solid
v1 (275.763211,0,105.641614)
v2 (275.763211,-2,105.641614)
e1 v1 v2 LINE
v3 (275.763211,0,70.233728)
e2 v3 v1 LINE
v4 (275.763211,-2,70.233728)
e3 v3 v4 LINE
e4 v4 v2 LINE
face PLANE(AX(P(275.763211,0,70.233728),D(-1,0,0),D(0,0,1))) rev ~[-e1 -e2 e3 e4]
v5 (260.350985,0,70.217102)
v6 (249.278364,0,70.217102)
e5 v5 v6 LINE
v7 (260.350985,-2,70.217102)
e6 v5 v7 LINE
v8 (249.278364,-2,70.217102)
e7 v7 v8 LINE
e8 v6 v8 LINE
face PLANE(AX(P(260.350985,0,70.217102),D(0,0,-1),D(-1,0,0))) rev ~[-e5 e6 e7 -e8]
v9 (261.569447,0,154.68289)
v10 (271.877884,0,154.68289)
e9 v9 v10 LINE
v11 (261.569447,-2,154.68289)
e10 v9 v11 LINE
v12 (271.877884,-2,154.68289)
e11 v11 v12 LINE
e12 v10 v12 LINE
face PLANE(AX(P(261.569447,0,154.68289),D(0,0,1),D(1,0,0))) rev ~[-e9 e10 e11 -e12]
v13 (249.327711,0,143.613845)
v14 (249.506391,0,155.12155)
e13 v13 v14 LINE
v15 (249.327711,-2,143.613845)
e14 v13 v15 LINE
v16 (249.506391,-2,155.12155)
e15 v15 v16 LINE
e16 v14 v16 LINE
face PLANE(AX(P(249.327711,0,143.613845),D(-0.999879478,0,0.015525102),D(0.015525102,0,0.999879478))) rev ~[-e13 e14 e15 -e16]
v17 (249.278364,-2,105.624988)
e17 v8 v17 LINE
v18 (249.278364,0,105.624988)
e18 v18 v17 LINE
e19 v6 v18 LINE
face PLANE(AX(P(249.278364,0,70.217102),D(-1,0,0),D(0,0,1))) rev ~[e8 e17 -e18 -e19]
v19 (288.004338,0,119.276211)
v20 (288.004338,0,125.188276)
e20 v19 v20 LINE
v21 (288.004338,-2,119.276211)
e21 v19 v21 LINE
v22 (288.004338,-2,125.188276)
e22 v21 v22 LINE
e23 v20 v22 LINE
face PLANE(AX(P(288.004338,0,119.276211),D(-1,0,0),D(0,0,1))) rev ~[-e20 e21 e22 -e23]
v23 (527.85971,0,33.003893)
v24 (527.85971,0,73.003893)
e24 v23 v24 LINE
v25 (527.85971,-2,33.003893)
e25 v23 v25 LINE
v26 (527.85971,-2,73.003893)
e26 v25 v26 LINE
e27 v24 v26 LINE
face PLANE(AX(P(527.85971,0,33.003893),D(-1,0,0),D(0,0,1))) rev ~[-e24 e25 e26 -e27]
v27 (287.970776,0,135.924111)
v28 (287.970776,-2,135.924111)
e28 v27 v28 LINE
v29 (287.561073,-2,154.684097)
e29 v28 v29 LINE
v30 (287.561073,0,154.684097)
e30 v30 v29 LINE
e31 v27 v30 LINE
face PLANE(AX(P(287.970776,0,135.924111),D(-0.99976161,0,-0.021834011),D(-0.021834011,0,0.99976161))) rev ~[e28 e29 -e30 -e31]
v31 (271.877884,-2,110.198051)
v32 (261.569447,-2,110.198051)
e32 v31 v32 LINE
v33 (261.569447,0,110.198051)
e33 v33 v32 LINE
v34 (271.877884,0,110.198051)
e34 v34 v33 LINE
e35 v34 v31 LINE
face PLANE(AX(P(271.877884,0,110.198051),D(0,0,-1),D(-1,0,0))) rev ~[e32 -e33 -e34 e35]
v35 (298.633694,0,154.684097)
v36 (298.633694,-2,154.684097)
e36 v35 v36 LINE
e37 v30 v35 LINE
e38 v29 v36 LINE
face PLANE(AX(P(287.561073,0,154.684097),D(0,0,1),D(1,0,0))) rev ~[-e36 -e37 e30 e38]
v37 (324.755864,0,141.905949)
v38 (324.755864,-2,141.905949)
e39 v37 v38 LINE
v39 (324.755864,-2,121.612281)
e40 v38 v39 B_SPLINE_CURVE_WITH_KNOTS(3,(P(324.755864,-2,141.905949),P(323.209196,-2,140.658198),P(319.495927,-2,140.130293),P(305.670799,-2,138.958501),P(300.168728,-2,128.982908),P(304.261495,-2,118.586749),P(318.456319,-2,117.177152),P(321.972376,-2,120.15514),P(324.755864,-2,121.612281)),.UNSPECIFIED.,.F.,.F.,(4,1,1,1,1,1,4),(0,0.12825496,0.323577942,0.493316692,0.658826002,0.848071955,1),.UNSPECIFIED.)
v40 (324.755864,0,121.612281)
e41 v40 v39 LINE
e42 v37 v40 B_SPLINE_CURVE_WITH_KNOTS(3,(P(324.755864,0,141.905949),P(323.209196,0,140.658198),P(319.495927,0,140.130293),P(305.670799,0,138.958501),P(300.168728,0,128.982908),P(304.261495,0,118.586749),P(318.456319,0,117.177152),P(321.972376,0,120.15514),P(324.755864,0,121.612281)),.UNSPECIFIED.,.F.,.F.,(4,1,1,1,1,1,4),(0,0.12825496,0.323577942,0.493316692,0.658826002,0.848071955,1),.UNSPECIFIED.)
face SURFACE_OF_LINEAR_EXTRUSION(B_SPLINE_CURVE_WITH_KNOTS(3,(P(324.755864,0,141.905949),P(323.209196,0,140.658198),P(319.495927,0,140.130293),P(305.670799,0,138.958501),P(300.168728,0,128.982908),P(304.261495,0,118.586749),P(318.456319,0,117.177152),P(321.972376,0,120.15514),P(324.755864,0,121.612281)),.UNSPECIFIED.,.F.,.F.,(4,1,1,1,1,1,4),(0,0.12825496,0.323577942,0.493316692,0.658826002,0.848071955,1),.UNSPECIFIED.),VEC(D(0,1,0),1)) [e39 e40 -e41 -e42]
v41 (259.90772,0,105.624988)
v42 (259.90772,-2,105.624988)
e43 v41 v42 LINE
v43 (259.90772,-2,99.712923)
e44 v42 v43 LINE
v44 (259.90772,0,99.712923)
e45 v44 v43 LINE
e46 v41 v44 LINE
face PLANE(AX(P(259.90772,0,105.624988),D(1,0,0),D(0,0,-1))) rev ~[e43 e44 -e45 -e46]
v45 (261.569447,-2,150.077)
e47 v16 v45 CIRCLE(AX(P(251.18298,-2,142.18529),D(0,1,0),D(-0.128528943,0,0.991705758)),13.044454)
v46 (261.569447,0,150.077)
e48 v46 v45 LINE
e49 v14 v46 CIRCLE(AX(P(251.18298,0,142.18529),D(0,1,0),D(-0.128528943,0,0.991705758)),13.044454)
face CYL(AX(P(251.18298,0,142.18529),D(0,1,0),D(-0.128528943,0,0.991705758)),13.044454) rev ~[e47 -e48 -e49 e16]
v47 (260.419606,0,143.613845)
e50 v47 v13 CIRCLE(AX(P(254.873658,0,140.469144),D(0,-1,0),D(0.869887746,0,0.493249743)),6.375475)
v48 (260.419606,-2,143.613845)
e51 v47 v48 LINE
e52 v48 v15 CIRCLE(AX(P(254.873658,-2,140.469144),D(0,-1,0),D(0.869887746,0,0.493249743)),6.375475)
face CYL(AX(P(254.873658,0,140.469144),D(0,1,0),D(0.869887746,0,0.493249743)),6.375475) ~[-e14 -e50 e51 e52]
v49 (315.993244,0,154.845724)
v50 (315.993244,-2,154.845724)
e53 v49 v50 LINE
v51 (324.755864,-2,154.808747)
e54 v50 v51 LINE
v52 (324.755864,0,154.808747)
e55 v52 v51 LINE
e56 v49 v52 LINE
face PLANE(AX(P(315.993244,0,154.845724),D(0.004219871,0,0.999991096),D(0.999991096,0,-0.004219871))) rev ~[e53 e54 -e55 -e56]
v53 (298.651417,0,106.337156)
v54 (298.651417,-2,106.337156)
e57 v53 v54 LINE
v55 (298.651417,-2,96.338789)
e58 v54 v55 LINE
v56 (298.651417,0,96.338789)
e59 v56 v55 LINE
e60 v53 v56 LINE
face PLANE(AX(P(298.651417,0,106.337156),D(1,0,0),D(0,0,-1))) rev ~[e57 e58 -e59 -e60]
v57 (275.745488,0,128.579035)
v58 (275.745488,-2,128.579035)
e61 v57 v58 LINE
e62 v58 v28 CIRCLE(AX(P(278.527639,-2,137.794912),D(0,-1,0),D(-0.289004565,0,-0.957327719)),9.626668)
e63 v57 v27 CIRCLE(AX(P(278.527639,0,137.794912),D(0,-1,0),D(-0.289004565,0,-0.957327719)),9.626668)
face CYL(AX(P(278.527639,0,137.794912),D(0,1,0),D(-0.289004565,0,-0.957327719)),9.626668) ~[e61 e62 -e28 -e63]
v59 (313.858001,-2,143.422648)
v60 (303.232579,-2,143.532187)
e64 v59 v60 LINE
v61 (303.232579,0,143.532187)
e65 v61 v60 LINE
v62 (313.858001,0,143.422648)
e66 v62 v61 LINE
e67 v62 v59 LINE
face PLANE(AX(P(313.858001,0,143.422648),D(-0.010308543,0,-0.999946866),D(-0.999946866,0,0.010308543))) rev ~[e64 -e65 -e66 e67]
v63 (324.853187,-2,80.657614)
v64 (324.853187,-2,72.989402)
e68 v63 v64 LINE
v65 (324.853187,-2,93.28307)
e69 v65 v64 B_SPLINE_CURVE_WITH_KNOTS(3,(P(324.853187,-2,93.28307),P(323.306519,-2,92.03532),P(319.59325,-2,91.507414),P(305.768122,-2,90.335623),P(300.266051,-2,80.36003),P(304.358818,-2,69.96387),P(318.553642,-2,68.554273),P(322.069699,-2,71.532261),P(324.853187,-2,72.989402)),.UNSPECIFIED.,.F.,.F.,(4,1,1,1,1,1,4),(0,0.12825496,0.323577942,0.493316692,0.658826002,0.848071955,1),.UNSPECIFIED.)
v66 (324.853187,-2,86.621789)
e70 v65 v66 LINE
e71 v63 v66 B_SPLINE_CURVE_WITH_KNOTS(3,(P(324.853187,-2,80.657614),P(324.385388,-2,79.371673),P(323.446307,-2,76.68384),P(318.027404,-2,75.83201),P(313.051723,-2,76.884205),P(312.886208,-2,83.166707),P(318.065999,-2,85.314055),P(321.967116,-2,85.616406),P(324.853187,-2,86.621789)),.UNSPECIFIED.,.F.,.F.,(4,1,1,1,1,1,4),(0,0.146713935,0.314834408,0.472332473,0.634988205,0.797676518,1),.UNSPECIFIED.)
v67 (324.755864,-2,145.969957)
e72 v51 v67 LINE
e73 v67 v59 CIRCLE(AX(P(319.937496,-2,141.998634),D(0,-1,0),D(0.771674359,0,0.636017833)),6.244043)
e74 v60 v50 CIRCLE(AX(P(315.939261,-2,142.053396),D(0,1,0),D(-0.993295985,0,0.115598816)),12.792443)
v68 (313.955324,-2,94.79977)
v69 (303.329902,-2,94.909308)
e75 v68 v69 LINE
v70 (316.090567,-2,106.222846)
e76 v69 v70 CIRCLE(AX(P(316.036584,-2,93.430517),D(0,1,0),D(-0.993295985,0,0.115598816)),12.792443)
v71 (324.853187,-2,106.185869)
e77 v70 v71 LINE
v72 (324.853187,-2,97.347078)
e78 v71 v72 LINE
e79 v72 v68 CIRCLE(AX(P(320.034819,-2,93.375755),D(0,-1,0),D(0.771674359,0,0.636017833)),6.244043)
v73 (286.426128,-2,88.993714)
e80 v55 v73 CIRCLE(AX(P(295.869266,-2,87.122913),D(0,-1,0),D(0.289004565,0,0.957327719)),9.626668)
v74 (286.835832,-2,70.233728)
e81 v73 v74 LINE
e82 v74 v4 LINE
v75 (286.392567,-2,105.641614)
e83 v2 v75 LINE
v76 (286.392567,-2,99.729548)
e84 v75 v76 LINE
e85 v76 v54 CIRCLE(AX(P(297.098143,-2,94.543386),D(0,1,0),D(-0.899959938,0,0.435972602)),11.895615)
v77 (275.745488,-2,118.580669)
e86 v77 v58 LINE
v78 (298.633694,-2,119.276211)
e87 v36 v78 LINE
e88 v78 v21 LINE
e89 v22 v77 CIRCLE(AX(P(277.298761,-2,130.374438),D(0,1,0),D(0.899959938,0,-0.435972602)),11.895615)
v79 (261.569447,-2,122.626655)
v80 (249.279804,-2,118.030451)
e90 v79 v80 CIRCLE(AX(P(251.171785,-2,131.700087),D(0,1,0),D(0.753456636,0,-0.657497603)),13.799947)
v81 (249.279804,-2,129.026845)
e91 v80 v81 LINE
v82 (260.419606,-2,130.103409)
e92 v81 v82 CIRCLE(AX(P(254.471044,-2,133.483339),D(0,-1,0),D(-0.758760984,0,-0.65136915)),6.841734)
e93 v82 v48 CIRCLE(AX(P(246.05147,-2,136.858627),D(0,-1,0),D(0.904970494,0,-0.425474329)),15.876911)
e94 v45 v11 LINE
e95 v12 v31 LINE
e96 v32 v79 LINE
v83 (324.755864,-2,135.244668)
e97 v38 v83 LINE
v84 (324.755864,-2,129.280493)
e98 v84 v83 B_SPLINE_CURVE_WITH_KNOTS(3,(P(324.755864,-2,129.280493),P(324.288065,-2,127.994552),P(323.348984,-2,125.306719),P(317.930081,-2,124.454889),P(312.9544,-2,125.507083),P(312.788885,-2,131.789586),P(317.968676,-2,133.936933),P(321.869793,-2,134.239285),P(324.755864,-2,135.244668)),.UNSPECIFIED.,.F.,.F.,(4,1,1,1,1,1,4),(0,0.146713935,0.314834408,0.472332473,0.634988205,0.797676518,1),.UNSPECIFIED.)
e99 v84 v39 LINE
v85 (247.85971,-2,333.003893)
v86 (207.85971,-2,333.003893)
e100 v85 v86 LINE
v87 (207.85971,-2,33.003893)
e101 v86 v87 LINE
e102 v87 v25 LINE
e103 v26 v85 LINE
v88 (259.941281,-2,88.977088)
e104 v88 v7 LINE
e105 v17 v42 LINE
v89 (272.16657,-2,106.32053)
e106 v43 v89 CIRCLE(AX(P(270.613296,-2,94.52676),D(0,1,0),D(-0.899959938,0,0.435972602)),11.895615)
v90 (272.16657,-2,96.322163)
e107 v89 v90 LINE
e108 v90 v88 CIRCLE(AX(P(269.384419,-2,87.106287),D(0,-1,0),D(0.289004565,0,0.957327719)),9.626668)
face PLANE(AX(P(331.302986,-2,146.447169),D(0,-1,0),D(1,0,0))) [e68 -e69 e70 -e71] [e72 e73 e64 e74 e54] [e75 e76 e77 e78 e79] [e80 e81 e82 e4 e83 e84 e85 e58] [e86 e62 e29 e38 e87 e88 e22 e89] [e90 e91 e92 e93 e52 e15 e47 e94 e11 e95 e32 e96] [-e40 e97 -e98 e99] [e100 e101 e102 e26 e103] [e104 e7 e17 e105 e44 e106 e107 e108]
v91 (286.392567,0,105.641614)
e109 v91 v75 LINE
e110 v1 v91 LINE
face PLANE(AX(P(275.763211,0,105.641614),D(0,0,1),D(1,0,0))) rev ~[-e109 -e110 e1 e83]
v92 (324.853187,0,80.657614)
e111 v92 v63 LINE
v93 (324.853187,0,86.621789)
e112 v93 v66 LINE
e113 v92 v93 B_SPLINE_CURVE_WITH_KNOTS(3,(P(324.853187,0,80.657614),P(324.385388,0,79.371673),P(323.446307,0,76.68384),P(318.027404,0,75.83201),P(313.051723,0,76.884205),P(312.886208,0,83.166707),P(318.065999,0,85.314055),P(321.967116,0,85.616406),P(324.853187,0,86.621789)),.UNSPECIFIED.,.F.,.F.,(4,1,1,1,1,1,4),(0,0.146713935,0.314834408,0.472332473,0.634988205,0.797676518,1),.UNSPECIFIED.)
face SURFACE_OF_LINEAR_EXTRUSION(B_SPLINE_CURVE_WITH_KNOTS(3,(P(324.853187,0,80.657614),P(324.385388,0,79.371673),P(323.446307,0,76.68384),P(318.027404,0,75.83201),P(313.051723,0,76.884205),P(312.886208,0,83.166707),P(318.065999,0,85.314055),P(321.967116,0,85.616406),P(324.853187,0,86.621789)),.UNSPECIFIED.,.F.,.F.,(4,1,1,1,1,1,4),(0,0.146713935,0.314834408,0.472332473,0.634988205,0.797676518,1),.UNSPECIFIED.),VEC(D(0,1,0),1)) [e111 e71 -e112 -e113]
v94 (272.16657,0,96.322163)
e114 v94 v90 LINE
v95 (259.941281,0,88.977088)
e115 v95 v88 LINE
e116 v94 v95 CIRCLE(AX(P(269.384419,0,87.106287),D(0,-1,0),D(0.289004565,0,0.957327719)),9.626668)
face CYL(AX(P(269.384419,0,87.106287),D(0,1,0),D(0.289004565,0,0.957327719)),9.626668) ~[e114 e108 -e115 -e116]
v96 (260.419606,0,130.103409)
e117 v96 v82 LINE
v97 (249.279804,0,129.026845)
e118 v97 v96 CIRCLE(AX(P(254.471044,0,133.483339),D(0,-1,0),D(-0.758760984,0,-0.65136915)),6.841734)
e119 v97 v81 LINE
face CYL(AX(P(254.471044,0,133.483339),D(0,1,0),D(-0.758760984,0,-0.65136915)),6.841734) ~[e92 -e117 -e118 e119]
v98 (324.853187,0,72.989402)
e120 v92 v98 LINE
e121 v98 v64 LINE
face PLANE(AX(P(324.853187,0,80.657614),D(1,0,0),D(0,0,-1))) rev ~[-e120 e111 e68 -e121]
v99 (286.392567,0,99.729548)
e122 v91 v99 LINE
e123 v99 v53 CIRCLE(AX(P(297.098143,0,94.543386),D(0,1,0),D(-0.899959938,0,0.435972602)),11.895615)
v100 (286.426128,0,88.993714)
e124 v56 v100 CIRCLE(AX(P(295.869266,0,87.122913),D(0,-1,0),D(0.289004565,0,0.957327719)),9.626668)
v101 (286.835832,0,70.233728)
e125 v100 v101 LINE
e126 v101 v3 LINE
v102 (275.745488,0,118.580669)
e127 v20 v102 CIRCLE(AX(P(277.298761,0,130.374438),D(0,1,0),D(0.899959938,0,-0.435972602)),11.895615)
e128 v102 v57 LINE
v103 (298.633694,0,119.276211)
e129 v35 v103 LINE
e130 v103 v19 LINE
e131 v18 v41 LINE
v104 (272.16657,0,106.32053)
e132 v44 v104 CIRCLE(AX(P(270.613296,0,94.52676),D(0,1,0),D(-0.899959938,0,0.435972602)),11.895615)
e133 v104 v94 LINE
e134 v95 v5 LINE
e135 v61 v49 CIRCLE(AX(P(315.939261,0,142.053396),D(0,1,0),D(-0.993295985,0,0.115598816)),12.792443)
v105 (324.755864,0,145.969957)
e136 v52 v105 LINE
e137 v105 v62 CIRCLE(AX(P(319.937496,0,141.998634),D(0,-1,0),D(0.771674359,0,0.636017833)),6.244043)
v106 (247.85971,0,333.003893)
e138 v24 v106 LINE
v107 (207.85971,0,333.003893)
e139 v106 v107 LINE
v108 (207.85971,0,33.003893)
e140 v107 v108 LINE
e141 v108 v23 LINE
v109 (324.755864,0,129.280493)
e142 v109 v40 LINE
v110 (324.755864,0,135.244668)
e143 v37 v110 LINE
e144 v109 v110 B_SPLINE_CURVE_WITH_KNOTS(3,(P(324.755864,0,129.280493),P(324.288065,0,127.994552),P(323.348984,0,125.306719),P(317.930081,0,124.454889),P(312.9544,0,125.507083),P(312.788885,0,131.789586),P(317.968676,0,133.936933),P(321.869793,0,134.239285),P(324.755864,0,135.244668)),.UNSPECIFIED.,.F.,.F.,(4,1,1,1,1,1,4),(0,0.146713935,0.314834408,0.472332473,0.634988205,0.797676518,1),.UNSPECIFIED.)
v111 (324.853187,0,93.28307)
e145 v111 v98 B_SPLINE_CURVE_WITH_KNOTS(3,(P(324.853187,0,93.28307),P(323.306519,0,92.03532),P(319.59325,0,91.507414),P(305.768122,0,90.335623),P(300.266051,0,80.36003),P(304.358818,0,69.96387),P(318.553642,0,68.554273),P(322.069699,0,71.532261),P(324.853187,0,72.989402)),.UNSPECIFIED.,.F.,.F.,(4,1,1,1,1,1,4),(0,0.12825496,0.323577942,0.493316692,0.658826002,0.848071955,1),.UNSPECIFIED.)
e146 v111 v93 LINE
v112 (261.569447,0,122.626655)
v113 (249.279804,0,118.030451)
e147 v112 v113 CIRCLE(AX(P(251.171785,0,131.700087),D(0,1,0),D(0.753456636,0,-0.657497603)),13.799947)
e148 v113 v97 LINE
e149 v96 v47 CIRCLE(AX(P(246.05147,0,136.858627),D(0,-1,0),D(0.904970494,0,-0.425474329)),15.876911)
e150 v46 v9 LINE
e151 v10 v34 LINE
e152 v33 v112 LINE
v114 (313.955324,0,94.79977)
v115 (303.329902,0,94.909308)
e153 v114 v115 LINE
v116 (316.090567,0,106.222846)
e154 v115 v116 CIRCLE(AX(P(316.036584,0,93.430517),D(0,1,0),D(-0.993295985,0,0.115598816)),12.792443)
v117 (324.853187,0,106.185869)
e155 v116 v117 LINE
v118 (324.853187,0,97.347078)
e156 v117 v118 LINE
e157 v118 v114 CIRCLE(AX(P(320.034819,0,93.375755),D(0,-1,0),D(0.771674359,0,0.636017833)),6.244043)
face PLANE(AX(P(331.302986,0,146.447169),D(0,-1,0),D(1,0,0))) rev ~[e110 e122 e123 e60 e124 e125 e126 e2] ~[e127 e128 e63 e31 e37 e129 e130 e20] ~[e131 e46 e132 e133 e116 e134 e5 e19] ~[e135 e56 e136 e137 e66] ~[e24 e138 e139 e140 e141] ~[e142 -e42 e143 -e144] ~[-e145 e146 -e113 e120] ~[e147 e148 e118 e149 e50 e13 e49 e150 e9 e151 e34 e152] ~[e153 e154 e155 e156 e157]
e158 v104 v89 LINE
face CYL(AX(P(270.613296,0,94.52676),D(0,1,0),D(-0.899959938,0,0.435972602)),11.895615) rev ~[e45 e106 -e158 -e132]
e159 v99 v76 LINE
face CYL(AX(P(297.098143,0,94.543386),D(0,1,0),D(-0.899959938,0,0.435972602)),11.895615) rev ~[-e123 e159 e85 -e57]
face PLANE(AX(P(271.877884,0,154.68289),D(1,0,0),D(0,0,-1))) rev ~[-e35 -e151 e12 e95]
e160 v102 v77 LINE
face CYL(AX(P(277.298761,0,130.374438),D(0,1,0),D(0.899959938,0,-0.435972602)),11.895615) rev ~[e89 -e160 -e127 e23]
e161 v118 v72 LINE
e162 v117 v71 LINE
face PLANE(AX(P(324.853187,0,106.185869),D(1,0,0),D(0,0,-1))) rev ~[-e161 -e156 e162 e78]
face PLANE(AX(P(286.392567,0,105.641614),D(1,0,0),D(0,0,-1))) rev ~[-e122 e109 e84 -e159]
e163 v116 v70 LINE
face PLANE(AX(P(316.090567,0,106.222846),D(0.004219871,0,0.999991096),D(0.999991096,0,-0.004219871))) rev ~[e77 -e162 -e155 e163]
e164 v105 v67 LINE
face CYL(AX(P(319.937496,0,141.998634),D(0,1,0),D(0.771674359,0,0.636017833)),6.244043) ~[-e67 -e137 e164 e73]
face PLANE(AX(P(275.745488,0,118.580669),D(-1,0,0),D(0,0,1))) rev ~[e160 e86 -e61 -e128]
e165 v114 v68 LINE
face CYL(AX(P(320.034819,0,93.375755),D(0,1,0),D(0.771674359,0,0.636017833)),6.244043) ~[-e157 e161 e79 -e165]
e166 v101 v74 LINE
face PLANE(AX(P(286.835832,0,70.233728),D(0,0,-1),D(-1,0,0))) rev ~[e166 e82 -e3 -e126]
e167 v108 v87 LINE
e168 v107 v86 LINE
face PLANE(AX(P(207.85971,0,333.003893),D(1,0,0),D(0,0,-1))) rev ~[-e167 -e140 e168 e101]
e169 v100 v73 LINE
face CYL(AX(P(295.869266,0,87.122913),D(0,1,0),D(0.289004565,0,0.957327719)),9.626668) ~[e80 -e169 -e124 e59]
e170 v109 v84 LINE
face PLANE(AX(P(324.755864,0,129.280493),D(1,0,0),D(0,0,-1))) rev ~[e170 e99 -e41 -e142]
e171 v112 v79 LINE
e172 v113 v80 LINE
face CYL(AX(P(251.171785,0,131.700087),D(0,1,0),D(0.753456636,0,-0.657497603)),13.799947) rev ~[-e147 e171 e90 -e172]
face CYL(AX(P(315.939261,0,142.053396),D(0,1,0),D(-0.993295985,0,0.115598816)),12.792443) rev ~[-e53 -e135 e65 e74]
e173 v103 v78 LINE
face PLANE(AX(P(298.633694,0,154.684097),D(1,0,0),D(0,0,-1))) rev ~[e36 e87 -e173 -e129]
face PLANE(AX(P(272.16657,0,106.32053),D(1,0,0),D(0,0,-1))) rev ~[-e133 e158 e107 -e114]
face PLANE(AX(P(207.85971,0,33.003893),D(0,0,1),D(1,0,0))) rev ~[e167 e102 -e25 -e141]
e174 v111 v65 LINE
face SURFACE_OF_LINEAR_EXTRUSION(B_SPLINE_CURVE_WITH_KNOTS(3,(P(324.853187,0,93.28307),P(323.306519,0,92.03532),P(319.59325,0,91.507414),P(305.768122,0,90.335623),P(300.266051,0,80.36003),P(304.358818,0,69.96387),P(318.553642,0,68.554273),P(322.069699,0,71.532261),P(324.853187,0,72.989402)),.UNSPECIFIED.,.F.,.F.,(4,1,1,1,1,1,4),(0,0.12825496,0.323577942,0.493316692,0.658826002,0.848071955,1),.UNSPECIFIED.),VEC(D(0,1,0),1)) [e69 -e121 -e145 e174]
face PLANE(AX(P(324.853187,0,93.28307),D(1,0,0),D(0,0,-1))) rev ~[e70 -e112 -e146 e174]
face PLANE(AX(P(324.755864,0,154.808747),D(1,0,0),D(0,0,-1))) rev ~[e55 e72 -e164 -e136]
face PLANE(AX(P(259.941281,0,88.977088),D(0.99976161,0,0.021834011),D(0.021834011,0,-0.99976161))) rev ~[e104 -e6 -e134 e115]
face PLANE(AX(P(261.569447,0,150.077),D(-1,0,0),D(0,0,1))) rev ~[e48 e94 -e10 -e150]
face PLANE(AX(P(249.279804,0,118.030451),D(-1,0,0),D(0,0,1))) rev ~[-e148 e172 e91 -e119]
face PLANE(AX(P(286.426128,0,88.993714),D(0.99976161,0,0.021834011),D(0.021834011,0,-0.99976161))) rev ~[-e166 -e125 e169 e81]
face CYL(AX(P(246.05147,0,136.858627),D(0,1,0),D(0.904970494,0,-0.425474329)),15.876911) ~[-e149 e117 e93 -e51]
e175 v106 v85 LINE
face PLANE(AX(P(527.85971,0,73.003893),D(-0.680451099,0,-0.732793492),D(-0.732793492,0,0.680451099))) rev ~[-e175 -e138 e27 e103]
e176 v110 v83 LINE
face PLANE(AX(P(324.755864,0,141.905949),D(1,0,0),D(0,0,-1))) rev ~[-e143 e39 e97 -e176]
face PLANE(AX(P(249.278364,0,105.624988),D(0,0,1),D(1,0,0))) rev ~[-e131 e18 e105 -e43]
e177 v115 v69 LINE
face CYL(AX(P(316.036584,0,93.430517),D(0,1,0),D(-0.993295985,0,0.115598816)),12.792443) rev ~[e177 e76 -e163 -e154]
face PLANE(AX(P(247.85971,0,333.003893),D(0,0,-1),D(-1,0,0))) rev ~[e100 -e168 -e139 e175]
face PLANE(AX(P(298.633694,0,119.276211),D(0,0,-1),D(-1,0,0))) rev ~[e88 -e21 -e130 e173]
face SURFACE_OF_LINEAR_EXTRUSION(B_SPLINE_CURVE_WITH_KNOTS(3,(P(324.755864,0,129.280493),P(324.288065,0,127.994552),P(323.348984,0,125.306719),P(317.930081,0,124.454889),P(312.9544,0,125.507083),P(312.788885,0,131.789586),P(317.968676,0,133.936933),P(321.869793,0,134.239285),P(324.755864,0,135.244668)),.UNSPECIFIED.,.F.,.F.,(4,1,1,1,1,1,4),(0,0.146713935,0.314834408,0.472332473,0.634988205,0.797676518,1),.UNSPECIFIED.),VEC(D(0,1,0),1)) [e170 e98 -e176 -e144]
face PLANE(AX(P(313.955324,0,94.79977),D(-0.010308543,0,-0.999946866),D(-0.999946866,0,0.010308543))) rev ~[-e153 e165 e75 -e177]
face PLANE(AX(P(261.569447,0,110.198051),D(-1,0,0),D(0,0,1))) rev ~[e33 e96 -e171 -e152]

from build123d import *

# Parameters (mm, degrees)
F1_DEPTH = 2


with BuildPart() as f1:
    # F0 (on Front) → F1 (new body)
    with BuildSketch(Plane.XZ):
        Polygon((207.8597095609, 332.3038927495), (207.8597095609, 33.0038927495), (527.8597095609, 33.0038927495), (527.8597095609, 73.0038927495), (247.8597095609, 333.0038927495), (207.8597095609, 333.0038927495), align=None)
        with BuildLine():
            Line((260.350984643, 70.2171021446), (249.2783638935, 70.2171021446))
            Line((249.2783638935, 70.2171021446), (249.2783638935, 105.6249880537))
            Line((249.2783638935, 105.6249880537), (259.907719801, 105.6249880537))
            Line((259.907719801, 105.6249880537), (259.907719801, 99.7129225477))
            ThreePointArc((259.907719801, 99.7129225477), (264.969159541, 104.9981198242), (272.166569839, 106.3205295548))
            Line((272.166569839, 106.3205295548), (272.166569839, 96.3221633181))
            ThreePointArc((272.166569839, 96.3221633181), (264.4266251898, 95.3581367621), (259.9412812379, 88.9770882584))
            Line((259.9412812379, 88.9770882584), (260.350984643, 70.2171021446))
        make_face(mode=Mode.SUBTRACT)
        with BuildLine():
            ThreePointArc((286.3925668235, 99.7295484954), (291.4540065635, 105.0147457719), (298.6514168615, 106.3371555025))
            Line((298.6514168615, 106.3371555025), (298.6514168615, 96.3387892658))
            ThreePointArc((298.6514168615, 96.3387892658), (290.9114722123, 95.3747627098), (286.4261282604, 88.9937142061))
            Line((286.4261282604, 88.9937142061), (286.8358316655, 70.2337280923))
            Line((286.8358316655, 70.2337280923), (275.763210916, 70.2337280923))
            Line((275.763210916, 70.2337280923), (275.763210916, 105.6416140014))
            Line((275.763210916, 105.6416140014), (286.3925668235, 105.6416140014))
            Line((286.3925668235, 105.6416140014), (286.3925668235, 99.7295484954))
        make_face(mode=Mode.SUBTRACT)
        with BuildLine():
            Line((324.8531874271, 80.6576142285), (324.8531874271, 72.9894021723))
            add(Edge.make_bspline(
                [(324.8531874271, 93.2830700848), (323.3065188743, 92.0353198263), (319.5932504041, 91.5074140824), (305.76812214, 90.3356227603), (300.2660508817, 80.3600298922), (304.3588181672, 69.9638702682), (318.5536418728, 68.5542730887), (322.0696986329, 71.5322612124), (324.8531874271, 72.9894021723)],
                knots=[0, 0, 0, 0, 0.1282549597, 0.3235779421, 0.4933166916, 0.6588260023, 0.8480719548, 1, 1, 1, 1], degree=3))
            Line((324.8531874271, 93.2830700848), (324.8531874271, 86.6217890952))
            add(Edge.make_bspline(
                [(324.8531874271, 80.6576142285), (324.3853881763, 79.3716732666), (323.4463072091, 76.6838402752), (318.0274043762, 75.8320101397), (313.0517233961, 76.8842047893), (312.8862075691, 83.1667071186), (318.065998571, 85.3140545113), (321.9671157982, 85.6164060676), (324.8531874271, 86.6217890952)],
                knots=[0, 0, 0, 0, 0.1467139352, 0.3148344078, 0.4723324727, 0.6349882053, 0.7976765175, 1, 1, 1, 1], degree=3))
        make_face(mode=Mode.SUBTRACT)
        with BuildLine():
            Line((316.0905669231, 106.2228459891), (324.8531874271, 106.1858685351))
            Line((324.8531874271, 106.1858685351), (324.8531874271, 97.3470781765))
            ThreePointArc((324.8531874271, 97.3470781765), (318.6136208517, 99.4559091904), (313.9553243844, 94.7997698758))
            Line((313.9553243844, 94.7997698758), (303.3299023836, 94.9093083117))
            ThreePointArc((303.3299023836, 94.9093083117), (307.550022404, 103.002604489), (316.0905669231, 106.2228459891))
        make_face(mode=Mode.SUBTRACT)
        with BuildLine():
            Line((271.8778838503, 154.6828896542), (271.8778838503, 110.1980508108))
            Line((271.8778838503, 110.1980508108), (261.5694468009, 110.1980508108))
            Line((261.5694468009, 110.1980508108), (261.5694468009, 122.6266548772))
            ThreePointArc((261.5694468009, 122.6266548772), (256.0058228238, 118.7745070428), (249.2798035133, 118.0304513116))
            Line((249.2798035133, 118.0304513116), (249.2798035133, 129.026845171))
            ThreePointArc((249.2798035133, 129.026845171), (255.1291713772, 126.67333299), (260.419606148, 130.1034093638))
            ThreePointArc((260.419606148, 130.1034093638), (261.9283811203, 136.8586272736), (260.419606148, 143.6138451834))
            ThreePointArc((260.419606148, 143.6138451834), (254.8736584473, 146.8446188485), (249.3277107465, 143.6138451834))
            Line((249.3277107465, 143.6138451834), (249.5063905704, 155.1215500374))
            ThreePointArc((249.5063905704, 155.1215500374), (256.2156097253, 154.2198410632), (261.5694468009, 150.0770003338))
            Line((261.5694468009, 150.0770003338), (261.5694468009, 154.6828896542))
            Line((261.5694468009, 154.6828896542), (271.8778838503, 154.6828896542))
        make_face(mode=Mode.SUBTRACT)
        with BuildLine():
            Line((298.6336936343, 119.2762107392), (288.0043377268, 119.2762107392))
            Line((288.0043377268, 119.2762107392), (288.0043377268, 125.1882762452))
            ThreePointArc((288.0043377268, 125.1882762452), (282.9428979868, 119.9030789686), (275.7454876888, 118.5806692381))
            Line((275.7454876888, 118.5806692381), (275.7454876888, 128.5790354748))
            ThreePointArc((275.7454876888, 128.5790354748), (283.485432338, 129.5430620307), (287.9707762899, 135.9241105345))
            Line((287.9707762899, 135.9241105345), (287.5610728848, 154.6840966483))
            Line((287.5610728848, 154.6840966483), (298.6336936343, 154.6840966483))
            Line((298.6336936343, 154.6840966483), (298.6336936343, 119.2762107392))
        make_face(mode=Mode.SUBTRACT)
        with BuildLine():
            add(Edge.make_bspline(
                [(324.7558644524, 141.9059485932), (323.2091958996, 140.6581983347), (319.4959274294, 140.1302925908), (305.6707991653, 138.9585012686), (300.168727907, 128.9829084005), (304.2614951926, 118.5867487766), (318.4563188981, 117.1771515971), (321.9723756583, 120.1551397208), (324.7558644524, 121.6122806807)],
                knots=[0, 0, 0, 0, 0.1282549597, 0.3235779421, 0.4933166916, 0.6588260023, 0.8480719548, 1, 1, 1, 1], degree=3))
            Line((324.7558644524, 141.9059485932), (324.7558644524, 135.2446676035))
            add(Edge.make_bspline(
                [(324.7558644524, 129.2804927369), (324.2880652016, 127.9945517749), (323.3489842345, 125.3067187836), (317.9300814016, 124.4548886481), (312.9544004215, 125.5070832977), (312.7888845944, 131.7895856269), (317.9686755963, 133.9369330196), (321.8697928236, 134.239284576), (324.7558644524, 135.2446676035)],
                knots=[0, 0, 0, 0, 0.1467139352, 0.3148344078, 0.4723324727, 0.6349882053, 0.7976765175, 1, 1, 1, 1], degree=3))
            Line((324.7558644524, 129.2804927369), (324.7558644524, 121.6122806807))
        make_face(mode=Mode.SUBTRACT)
        with BuildLine():
            Line((324.7558644524, 154.8087470435), (324.7558644524, 145.9699566849))
            ThreePointArc((324.7558644524, 145.9699566849), (318.516297877, 148.0787876987), (313.8580014098, 143.4226483841))
            Line((313.8580014098, 143.4226483841), (303.2325794089, 143.5321868201))
            ThreePointArc((303.2325794089, 143.5321868201), (307.4526994293, 151.6254829974), (315.9932439484, 154.8457244975))
            Line((315.9932439484, 154.8457244975), (324.7558644524, 154.8087470435))
        make_face(mode=Mode.SUBTRACT)
    extrude(amount=F1_DEPTH)


solid = f1.part
